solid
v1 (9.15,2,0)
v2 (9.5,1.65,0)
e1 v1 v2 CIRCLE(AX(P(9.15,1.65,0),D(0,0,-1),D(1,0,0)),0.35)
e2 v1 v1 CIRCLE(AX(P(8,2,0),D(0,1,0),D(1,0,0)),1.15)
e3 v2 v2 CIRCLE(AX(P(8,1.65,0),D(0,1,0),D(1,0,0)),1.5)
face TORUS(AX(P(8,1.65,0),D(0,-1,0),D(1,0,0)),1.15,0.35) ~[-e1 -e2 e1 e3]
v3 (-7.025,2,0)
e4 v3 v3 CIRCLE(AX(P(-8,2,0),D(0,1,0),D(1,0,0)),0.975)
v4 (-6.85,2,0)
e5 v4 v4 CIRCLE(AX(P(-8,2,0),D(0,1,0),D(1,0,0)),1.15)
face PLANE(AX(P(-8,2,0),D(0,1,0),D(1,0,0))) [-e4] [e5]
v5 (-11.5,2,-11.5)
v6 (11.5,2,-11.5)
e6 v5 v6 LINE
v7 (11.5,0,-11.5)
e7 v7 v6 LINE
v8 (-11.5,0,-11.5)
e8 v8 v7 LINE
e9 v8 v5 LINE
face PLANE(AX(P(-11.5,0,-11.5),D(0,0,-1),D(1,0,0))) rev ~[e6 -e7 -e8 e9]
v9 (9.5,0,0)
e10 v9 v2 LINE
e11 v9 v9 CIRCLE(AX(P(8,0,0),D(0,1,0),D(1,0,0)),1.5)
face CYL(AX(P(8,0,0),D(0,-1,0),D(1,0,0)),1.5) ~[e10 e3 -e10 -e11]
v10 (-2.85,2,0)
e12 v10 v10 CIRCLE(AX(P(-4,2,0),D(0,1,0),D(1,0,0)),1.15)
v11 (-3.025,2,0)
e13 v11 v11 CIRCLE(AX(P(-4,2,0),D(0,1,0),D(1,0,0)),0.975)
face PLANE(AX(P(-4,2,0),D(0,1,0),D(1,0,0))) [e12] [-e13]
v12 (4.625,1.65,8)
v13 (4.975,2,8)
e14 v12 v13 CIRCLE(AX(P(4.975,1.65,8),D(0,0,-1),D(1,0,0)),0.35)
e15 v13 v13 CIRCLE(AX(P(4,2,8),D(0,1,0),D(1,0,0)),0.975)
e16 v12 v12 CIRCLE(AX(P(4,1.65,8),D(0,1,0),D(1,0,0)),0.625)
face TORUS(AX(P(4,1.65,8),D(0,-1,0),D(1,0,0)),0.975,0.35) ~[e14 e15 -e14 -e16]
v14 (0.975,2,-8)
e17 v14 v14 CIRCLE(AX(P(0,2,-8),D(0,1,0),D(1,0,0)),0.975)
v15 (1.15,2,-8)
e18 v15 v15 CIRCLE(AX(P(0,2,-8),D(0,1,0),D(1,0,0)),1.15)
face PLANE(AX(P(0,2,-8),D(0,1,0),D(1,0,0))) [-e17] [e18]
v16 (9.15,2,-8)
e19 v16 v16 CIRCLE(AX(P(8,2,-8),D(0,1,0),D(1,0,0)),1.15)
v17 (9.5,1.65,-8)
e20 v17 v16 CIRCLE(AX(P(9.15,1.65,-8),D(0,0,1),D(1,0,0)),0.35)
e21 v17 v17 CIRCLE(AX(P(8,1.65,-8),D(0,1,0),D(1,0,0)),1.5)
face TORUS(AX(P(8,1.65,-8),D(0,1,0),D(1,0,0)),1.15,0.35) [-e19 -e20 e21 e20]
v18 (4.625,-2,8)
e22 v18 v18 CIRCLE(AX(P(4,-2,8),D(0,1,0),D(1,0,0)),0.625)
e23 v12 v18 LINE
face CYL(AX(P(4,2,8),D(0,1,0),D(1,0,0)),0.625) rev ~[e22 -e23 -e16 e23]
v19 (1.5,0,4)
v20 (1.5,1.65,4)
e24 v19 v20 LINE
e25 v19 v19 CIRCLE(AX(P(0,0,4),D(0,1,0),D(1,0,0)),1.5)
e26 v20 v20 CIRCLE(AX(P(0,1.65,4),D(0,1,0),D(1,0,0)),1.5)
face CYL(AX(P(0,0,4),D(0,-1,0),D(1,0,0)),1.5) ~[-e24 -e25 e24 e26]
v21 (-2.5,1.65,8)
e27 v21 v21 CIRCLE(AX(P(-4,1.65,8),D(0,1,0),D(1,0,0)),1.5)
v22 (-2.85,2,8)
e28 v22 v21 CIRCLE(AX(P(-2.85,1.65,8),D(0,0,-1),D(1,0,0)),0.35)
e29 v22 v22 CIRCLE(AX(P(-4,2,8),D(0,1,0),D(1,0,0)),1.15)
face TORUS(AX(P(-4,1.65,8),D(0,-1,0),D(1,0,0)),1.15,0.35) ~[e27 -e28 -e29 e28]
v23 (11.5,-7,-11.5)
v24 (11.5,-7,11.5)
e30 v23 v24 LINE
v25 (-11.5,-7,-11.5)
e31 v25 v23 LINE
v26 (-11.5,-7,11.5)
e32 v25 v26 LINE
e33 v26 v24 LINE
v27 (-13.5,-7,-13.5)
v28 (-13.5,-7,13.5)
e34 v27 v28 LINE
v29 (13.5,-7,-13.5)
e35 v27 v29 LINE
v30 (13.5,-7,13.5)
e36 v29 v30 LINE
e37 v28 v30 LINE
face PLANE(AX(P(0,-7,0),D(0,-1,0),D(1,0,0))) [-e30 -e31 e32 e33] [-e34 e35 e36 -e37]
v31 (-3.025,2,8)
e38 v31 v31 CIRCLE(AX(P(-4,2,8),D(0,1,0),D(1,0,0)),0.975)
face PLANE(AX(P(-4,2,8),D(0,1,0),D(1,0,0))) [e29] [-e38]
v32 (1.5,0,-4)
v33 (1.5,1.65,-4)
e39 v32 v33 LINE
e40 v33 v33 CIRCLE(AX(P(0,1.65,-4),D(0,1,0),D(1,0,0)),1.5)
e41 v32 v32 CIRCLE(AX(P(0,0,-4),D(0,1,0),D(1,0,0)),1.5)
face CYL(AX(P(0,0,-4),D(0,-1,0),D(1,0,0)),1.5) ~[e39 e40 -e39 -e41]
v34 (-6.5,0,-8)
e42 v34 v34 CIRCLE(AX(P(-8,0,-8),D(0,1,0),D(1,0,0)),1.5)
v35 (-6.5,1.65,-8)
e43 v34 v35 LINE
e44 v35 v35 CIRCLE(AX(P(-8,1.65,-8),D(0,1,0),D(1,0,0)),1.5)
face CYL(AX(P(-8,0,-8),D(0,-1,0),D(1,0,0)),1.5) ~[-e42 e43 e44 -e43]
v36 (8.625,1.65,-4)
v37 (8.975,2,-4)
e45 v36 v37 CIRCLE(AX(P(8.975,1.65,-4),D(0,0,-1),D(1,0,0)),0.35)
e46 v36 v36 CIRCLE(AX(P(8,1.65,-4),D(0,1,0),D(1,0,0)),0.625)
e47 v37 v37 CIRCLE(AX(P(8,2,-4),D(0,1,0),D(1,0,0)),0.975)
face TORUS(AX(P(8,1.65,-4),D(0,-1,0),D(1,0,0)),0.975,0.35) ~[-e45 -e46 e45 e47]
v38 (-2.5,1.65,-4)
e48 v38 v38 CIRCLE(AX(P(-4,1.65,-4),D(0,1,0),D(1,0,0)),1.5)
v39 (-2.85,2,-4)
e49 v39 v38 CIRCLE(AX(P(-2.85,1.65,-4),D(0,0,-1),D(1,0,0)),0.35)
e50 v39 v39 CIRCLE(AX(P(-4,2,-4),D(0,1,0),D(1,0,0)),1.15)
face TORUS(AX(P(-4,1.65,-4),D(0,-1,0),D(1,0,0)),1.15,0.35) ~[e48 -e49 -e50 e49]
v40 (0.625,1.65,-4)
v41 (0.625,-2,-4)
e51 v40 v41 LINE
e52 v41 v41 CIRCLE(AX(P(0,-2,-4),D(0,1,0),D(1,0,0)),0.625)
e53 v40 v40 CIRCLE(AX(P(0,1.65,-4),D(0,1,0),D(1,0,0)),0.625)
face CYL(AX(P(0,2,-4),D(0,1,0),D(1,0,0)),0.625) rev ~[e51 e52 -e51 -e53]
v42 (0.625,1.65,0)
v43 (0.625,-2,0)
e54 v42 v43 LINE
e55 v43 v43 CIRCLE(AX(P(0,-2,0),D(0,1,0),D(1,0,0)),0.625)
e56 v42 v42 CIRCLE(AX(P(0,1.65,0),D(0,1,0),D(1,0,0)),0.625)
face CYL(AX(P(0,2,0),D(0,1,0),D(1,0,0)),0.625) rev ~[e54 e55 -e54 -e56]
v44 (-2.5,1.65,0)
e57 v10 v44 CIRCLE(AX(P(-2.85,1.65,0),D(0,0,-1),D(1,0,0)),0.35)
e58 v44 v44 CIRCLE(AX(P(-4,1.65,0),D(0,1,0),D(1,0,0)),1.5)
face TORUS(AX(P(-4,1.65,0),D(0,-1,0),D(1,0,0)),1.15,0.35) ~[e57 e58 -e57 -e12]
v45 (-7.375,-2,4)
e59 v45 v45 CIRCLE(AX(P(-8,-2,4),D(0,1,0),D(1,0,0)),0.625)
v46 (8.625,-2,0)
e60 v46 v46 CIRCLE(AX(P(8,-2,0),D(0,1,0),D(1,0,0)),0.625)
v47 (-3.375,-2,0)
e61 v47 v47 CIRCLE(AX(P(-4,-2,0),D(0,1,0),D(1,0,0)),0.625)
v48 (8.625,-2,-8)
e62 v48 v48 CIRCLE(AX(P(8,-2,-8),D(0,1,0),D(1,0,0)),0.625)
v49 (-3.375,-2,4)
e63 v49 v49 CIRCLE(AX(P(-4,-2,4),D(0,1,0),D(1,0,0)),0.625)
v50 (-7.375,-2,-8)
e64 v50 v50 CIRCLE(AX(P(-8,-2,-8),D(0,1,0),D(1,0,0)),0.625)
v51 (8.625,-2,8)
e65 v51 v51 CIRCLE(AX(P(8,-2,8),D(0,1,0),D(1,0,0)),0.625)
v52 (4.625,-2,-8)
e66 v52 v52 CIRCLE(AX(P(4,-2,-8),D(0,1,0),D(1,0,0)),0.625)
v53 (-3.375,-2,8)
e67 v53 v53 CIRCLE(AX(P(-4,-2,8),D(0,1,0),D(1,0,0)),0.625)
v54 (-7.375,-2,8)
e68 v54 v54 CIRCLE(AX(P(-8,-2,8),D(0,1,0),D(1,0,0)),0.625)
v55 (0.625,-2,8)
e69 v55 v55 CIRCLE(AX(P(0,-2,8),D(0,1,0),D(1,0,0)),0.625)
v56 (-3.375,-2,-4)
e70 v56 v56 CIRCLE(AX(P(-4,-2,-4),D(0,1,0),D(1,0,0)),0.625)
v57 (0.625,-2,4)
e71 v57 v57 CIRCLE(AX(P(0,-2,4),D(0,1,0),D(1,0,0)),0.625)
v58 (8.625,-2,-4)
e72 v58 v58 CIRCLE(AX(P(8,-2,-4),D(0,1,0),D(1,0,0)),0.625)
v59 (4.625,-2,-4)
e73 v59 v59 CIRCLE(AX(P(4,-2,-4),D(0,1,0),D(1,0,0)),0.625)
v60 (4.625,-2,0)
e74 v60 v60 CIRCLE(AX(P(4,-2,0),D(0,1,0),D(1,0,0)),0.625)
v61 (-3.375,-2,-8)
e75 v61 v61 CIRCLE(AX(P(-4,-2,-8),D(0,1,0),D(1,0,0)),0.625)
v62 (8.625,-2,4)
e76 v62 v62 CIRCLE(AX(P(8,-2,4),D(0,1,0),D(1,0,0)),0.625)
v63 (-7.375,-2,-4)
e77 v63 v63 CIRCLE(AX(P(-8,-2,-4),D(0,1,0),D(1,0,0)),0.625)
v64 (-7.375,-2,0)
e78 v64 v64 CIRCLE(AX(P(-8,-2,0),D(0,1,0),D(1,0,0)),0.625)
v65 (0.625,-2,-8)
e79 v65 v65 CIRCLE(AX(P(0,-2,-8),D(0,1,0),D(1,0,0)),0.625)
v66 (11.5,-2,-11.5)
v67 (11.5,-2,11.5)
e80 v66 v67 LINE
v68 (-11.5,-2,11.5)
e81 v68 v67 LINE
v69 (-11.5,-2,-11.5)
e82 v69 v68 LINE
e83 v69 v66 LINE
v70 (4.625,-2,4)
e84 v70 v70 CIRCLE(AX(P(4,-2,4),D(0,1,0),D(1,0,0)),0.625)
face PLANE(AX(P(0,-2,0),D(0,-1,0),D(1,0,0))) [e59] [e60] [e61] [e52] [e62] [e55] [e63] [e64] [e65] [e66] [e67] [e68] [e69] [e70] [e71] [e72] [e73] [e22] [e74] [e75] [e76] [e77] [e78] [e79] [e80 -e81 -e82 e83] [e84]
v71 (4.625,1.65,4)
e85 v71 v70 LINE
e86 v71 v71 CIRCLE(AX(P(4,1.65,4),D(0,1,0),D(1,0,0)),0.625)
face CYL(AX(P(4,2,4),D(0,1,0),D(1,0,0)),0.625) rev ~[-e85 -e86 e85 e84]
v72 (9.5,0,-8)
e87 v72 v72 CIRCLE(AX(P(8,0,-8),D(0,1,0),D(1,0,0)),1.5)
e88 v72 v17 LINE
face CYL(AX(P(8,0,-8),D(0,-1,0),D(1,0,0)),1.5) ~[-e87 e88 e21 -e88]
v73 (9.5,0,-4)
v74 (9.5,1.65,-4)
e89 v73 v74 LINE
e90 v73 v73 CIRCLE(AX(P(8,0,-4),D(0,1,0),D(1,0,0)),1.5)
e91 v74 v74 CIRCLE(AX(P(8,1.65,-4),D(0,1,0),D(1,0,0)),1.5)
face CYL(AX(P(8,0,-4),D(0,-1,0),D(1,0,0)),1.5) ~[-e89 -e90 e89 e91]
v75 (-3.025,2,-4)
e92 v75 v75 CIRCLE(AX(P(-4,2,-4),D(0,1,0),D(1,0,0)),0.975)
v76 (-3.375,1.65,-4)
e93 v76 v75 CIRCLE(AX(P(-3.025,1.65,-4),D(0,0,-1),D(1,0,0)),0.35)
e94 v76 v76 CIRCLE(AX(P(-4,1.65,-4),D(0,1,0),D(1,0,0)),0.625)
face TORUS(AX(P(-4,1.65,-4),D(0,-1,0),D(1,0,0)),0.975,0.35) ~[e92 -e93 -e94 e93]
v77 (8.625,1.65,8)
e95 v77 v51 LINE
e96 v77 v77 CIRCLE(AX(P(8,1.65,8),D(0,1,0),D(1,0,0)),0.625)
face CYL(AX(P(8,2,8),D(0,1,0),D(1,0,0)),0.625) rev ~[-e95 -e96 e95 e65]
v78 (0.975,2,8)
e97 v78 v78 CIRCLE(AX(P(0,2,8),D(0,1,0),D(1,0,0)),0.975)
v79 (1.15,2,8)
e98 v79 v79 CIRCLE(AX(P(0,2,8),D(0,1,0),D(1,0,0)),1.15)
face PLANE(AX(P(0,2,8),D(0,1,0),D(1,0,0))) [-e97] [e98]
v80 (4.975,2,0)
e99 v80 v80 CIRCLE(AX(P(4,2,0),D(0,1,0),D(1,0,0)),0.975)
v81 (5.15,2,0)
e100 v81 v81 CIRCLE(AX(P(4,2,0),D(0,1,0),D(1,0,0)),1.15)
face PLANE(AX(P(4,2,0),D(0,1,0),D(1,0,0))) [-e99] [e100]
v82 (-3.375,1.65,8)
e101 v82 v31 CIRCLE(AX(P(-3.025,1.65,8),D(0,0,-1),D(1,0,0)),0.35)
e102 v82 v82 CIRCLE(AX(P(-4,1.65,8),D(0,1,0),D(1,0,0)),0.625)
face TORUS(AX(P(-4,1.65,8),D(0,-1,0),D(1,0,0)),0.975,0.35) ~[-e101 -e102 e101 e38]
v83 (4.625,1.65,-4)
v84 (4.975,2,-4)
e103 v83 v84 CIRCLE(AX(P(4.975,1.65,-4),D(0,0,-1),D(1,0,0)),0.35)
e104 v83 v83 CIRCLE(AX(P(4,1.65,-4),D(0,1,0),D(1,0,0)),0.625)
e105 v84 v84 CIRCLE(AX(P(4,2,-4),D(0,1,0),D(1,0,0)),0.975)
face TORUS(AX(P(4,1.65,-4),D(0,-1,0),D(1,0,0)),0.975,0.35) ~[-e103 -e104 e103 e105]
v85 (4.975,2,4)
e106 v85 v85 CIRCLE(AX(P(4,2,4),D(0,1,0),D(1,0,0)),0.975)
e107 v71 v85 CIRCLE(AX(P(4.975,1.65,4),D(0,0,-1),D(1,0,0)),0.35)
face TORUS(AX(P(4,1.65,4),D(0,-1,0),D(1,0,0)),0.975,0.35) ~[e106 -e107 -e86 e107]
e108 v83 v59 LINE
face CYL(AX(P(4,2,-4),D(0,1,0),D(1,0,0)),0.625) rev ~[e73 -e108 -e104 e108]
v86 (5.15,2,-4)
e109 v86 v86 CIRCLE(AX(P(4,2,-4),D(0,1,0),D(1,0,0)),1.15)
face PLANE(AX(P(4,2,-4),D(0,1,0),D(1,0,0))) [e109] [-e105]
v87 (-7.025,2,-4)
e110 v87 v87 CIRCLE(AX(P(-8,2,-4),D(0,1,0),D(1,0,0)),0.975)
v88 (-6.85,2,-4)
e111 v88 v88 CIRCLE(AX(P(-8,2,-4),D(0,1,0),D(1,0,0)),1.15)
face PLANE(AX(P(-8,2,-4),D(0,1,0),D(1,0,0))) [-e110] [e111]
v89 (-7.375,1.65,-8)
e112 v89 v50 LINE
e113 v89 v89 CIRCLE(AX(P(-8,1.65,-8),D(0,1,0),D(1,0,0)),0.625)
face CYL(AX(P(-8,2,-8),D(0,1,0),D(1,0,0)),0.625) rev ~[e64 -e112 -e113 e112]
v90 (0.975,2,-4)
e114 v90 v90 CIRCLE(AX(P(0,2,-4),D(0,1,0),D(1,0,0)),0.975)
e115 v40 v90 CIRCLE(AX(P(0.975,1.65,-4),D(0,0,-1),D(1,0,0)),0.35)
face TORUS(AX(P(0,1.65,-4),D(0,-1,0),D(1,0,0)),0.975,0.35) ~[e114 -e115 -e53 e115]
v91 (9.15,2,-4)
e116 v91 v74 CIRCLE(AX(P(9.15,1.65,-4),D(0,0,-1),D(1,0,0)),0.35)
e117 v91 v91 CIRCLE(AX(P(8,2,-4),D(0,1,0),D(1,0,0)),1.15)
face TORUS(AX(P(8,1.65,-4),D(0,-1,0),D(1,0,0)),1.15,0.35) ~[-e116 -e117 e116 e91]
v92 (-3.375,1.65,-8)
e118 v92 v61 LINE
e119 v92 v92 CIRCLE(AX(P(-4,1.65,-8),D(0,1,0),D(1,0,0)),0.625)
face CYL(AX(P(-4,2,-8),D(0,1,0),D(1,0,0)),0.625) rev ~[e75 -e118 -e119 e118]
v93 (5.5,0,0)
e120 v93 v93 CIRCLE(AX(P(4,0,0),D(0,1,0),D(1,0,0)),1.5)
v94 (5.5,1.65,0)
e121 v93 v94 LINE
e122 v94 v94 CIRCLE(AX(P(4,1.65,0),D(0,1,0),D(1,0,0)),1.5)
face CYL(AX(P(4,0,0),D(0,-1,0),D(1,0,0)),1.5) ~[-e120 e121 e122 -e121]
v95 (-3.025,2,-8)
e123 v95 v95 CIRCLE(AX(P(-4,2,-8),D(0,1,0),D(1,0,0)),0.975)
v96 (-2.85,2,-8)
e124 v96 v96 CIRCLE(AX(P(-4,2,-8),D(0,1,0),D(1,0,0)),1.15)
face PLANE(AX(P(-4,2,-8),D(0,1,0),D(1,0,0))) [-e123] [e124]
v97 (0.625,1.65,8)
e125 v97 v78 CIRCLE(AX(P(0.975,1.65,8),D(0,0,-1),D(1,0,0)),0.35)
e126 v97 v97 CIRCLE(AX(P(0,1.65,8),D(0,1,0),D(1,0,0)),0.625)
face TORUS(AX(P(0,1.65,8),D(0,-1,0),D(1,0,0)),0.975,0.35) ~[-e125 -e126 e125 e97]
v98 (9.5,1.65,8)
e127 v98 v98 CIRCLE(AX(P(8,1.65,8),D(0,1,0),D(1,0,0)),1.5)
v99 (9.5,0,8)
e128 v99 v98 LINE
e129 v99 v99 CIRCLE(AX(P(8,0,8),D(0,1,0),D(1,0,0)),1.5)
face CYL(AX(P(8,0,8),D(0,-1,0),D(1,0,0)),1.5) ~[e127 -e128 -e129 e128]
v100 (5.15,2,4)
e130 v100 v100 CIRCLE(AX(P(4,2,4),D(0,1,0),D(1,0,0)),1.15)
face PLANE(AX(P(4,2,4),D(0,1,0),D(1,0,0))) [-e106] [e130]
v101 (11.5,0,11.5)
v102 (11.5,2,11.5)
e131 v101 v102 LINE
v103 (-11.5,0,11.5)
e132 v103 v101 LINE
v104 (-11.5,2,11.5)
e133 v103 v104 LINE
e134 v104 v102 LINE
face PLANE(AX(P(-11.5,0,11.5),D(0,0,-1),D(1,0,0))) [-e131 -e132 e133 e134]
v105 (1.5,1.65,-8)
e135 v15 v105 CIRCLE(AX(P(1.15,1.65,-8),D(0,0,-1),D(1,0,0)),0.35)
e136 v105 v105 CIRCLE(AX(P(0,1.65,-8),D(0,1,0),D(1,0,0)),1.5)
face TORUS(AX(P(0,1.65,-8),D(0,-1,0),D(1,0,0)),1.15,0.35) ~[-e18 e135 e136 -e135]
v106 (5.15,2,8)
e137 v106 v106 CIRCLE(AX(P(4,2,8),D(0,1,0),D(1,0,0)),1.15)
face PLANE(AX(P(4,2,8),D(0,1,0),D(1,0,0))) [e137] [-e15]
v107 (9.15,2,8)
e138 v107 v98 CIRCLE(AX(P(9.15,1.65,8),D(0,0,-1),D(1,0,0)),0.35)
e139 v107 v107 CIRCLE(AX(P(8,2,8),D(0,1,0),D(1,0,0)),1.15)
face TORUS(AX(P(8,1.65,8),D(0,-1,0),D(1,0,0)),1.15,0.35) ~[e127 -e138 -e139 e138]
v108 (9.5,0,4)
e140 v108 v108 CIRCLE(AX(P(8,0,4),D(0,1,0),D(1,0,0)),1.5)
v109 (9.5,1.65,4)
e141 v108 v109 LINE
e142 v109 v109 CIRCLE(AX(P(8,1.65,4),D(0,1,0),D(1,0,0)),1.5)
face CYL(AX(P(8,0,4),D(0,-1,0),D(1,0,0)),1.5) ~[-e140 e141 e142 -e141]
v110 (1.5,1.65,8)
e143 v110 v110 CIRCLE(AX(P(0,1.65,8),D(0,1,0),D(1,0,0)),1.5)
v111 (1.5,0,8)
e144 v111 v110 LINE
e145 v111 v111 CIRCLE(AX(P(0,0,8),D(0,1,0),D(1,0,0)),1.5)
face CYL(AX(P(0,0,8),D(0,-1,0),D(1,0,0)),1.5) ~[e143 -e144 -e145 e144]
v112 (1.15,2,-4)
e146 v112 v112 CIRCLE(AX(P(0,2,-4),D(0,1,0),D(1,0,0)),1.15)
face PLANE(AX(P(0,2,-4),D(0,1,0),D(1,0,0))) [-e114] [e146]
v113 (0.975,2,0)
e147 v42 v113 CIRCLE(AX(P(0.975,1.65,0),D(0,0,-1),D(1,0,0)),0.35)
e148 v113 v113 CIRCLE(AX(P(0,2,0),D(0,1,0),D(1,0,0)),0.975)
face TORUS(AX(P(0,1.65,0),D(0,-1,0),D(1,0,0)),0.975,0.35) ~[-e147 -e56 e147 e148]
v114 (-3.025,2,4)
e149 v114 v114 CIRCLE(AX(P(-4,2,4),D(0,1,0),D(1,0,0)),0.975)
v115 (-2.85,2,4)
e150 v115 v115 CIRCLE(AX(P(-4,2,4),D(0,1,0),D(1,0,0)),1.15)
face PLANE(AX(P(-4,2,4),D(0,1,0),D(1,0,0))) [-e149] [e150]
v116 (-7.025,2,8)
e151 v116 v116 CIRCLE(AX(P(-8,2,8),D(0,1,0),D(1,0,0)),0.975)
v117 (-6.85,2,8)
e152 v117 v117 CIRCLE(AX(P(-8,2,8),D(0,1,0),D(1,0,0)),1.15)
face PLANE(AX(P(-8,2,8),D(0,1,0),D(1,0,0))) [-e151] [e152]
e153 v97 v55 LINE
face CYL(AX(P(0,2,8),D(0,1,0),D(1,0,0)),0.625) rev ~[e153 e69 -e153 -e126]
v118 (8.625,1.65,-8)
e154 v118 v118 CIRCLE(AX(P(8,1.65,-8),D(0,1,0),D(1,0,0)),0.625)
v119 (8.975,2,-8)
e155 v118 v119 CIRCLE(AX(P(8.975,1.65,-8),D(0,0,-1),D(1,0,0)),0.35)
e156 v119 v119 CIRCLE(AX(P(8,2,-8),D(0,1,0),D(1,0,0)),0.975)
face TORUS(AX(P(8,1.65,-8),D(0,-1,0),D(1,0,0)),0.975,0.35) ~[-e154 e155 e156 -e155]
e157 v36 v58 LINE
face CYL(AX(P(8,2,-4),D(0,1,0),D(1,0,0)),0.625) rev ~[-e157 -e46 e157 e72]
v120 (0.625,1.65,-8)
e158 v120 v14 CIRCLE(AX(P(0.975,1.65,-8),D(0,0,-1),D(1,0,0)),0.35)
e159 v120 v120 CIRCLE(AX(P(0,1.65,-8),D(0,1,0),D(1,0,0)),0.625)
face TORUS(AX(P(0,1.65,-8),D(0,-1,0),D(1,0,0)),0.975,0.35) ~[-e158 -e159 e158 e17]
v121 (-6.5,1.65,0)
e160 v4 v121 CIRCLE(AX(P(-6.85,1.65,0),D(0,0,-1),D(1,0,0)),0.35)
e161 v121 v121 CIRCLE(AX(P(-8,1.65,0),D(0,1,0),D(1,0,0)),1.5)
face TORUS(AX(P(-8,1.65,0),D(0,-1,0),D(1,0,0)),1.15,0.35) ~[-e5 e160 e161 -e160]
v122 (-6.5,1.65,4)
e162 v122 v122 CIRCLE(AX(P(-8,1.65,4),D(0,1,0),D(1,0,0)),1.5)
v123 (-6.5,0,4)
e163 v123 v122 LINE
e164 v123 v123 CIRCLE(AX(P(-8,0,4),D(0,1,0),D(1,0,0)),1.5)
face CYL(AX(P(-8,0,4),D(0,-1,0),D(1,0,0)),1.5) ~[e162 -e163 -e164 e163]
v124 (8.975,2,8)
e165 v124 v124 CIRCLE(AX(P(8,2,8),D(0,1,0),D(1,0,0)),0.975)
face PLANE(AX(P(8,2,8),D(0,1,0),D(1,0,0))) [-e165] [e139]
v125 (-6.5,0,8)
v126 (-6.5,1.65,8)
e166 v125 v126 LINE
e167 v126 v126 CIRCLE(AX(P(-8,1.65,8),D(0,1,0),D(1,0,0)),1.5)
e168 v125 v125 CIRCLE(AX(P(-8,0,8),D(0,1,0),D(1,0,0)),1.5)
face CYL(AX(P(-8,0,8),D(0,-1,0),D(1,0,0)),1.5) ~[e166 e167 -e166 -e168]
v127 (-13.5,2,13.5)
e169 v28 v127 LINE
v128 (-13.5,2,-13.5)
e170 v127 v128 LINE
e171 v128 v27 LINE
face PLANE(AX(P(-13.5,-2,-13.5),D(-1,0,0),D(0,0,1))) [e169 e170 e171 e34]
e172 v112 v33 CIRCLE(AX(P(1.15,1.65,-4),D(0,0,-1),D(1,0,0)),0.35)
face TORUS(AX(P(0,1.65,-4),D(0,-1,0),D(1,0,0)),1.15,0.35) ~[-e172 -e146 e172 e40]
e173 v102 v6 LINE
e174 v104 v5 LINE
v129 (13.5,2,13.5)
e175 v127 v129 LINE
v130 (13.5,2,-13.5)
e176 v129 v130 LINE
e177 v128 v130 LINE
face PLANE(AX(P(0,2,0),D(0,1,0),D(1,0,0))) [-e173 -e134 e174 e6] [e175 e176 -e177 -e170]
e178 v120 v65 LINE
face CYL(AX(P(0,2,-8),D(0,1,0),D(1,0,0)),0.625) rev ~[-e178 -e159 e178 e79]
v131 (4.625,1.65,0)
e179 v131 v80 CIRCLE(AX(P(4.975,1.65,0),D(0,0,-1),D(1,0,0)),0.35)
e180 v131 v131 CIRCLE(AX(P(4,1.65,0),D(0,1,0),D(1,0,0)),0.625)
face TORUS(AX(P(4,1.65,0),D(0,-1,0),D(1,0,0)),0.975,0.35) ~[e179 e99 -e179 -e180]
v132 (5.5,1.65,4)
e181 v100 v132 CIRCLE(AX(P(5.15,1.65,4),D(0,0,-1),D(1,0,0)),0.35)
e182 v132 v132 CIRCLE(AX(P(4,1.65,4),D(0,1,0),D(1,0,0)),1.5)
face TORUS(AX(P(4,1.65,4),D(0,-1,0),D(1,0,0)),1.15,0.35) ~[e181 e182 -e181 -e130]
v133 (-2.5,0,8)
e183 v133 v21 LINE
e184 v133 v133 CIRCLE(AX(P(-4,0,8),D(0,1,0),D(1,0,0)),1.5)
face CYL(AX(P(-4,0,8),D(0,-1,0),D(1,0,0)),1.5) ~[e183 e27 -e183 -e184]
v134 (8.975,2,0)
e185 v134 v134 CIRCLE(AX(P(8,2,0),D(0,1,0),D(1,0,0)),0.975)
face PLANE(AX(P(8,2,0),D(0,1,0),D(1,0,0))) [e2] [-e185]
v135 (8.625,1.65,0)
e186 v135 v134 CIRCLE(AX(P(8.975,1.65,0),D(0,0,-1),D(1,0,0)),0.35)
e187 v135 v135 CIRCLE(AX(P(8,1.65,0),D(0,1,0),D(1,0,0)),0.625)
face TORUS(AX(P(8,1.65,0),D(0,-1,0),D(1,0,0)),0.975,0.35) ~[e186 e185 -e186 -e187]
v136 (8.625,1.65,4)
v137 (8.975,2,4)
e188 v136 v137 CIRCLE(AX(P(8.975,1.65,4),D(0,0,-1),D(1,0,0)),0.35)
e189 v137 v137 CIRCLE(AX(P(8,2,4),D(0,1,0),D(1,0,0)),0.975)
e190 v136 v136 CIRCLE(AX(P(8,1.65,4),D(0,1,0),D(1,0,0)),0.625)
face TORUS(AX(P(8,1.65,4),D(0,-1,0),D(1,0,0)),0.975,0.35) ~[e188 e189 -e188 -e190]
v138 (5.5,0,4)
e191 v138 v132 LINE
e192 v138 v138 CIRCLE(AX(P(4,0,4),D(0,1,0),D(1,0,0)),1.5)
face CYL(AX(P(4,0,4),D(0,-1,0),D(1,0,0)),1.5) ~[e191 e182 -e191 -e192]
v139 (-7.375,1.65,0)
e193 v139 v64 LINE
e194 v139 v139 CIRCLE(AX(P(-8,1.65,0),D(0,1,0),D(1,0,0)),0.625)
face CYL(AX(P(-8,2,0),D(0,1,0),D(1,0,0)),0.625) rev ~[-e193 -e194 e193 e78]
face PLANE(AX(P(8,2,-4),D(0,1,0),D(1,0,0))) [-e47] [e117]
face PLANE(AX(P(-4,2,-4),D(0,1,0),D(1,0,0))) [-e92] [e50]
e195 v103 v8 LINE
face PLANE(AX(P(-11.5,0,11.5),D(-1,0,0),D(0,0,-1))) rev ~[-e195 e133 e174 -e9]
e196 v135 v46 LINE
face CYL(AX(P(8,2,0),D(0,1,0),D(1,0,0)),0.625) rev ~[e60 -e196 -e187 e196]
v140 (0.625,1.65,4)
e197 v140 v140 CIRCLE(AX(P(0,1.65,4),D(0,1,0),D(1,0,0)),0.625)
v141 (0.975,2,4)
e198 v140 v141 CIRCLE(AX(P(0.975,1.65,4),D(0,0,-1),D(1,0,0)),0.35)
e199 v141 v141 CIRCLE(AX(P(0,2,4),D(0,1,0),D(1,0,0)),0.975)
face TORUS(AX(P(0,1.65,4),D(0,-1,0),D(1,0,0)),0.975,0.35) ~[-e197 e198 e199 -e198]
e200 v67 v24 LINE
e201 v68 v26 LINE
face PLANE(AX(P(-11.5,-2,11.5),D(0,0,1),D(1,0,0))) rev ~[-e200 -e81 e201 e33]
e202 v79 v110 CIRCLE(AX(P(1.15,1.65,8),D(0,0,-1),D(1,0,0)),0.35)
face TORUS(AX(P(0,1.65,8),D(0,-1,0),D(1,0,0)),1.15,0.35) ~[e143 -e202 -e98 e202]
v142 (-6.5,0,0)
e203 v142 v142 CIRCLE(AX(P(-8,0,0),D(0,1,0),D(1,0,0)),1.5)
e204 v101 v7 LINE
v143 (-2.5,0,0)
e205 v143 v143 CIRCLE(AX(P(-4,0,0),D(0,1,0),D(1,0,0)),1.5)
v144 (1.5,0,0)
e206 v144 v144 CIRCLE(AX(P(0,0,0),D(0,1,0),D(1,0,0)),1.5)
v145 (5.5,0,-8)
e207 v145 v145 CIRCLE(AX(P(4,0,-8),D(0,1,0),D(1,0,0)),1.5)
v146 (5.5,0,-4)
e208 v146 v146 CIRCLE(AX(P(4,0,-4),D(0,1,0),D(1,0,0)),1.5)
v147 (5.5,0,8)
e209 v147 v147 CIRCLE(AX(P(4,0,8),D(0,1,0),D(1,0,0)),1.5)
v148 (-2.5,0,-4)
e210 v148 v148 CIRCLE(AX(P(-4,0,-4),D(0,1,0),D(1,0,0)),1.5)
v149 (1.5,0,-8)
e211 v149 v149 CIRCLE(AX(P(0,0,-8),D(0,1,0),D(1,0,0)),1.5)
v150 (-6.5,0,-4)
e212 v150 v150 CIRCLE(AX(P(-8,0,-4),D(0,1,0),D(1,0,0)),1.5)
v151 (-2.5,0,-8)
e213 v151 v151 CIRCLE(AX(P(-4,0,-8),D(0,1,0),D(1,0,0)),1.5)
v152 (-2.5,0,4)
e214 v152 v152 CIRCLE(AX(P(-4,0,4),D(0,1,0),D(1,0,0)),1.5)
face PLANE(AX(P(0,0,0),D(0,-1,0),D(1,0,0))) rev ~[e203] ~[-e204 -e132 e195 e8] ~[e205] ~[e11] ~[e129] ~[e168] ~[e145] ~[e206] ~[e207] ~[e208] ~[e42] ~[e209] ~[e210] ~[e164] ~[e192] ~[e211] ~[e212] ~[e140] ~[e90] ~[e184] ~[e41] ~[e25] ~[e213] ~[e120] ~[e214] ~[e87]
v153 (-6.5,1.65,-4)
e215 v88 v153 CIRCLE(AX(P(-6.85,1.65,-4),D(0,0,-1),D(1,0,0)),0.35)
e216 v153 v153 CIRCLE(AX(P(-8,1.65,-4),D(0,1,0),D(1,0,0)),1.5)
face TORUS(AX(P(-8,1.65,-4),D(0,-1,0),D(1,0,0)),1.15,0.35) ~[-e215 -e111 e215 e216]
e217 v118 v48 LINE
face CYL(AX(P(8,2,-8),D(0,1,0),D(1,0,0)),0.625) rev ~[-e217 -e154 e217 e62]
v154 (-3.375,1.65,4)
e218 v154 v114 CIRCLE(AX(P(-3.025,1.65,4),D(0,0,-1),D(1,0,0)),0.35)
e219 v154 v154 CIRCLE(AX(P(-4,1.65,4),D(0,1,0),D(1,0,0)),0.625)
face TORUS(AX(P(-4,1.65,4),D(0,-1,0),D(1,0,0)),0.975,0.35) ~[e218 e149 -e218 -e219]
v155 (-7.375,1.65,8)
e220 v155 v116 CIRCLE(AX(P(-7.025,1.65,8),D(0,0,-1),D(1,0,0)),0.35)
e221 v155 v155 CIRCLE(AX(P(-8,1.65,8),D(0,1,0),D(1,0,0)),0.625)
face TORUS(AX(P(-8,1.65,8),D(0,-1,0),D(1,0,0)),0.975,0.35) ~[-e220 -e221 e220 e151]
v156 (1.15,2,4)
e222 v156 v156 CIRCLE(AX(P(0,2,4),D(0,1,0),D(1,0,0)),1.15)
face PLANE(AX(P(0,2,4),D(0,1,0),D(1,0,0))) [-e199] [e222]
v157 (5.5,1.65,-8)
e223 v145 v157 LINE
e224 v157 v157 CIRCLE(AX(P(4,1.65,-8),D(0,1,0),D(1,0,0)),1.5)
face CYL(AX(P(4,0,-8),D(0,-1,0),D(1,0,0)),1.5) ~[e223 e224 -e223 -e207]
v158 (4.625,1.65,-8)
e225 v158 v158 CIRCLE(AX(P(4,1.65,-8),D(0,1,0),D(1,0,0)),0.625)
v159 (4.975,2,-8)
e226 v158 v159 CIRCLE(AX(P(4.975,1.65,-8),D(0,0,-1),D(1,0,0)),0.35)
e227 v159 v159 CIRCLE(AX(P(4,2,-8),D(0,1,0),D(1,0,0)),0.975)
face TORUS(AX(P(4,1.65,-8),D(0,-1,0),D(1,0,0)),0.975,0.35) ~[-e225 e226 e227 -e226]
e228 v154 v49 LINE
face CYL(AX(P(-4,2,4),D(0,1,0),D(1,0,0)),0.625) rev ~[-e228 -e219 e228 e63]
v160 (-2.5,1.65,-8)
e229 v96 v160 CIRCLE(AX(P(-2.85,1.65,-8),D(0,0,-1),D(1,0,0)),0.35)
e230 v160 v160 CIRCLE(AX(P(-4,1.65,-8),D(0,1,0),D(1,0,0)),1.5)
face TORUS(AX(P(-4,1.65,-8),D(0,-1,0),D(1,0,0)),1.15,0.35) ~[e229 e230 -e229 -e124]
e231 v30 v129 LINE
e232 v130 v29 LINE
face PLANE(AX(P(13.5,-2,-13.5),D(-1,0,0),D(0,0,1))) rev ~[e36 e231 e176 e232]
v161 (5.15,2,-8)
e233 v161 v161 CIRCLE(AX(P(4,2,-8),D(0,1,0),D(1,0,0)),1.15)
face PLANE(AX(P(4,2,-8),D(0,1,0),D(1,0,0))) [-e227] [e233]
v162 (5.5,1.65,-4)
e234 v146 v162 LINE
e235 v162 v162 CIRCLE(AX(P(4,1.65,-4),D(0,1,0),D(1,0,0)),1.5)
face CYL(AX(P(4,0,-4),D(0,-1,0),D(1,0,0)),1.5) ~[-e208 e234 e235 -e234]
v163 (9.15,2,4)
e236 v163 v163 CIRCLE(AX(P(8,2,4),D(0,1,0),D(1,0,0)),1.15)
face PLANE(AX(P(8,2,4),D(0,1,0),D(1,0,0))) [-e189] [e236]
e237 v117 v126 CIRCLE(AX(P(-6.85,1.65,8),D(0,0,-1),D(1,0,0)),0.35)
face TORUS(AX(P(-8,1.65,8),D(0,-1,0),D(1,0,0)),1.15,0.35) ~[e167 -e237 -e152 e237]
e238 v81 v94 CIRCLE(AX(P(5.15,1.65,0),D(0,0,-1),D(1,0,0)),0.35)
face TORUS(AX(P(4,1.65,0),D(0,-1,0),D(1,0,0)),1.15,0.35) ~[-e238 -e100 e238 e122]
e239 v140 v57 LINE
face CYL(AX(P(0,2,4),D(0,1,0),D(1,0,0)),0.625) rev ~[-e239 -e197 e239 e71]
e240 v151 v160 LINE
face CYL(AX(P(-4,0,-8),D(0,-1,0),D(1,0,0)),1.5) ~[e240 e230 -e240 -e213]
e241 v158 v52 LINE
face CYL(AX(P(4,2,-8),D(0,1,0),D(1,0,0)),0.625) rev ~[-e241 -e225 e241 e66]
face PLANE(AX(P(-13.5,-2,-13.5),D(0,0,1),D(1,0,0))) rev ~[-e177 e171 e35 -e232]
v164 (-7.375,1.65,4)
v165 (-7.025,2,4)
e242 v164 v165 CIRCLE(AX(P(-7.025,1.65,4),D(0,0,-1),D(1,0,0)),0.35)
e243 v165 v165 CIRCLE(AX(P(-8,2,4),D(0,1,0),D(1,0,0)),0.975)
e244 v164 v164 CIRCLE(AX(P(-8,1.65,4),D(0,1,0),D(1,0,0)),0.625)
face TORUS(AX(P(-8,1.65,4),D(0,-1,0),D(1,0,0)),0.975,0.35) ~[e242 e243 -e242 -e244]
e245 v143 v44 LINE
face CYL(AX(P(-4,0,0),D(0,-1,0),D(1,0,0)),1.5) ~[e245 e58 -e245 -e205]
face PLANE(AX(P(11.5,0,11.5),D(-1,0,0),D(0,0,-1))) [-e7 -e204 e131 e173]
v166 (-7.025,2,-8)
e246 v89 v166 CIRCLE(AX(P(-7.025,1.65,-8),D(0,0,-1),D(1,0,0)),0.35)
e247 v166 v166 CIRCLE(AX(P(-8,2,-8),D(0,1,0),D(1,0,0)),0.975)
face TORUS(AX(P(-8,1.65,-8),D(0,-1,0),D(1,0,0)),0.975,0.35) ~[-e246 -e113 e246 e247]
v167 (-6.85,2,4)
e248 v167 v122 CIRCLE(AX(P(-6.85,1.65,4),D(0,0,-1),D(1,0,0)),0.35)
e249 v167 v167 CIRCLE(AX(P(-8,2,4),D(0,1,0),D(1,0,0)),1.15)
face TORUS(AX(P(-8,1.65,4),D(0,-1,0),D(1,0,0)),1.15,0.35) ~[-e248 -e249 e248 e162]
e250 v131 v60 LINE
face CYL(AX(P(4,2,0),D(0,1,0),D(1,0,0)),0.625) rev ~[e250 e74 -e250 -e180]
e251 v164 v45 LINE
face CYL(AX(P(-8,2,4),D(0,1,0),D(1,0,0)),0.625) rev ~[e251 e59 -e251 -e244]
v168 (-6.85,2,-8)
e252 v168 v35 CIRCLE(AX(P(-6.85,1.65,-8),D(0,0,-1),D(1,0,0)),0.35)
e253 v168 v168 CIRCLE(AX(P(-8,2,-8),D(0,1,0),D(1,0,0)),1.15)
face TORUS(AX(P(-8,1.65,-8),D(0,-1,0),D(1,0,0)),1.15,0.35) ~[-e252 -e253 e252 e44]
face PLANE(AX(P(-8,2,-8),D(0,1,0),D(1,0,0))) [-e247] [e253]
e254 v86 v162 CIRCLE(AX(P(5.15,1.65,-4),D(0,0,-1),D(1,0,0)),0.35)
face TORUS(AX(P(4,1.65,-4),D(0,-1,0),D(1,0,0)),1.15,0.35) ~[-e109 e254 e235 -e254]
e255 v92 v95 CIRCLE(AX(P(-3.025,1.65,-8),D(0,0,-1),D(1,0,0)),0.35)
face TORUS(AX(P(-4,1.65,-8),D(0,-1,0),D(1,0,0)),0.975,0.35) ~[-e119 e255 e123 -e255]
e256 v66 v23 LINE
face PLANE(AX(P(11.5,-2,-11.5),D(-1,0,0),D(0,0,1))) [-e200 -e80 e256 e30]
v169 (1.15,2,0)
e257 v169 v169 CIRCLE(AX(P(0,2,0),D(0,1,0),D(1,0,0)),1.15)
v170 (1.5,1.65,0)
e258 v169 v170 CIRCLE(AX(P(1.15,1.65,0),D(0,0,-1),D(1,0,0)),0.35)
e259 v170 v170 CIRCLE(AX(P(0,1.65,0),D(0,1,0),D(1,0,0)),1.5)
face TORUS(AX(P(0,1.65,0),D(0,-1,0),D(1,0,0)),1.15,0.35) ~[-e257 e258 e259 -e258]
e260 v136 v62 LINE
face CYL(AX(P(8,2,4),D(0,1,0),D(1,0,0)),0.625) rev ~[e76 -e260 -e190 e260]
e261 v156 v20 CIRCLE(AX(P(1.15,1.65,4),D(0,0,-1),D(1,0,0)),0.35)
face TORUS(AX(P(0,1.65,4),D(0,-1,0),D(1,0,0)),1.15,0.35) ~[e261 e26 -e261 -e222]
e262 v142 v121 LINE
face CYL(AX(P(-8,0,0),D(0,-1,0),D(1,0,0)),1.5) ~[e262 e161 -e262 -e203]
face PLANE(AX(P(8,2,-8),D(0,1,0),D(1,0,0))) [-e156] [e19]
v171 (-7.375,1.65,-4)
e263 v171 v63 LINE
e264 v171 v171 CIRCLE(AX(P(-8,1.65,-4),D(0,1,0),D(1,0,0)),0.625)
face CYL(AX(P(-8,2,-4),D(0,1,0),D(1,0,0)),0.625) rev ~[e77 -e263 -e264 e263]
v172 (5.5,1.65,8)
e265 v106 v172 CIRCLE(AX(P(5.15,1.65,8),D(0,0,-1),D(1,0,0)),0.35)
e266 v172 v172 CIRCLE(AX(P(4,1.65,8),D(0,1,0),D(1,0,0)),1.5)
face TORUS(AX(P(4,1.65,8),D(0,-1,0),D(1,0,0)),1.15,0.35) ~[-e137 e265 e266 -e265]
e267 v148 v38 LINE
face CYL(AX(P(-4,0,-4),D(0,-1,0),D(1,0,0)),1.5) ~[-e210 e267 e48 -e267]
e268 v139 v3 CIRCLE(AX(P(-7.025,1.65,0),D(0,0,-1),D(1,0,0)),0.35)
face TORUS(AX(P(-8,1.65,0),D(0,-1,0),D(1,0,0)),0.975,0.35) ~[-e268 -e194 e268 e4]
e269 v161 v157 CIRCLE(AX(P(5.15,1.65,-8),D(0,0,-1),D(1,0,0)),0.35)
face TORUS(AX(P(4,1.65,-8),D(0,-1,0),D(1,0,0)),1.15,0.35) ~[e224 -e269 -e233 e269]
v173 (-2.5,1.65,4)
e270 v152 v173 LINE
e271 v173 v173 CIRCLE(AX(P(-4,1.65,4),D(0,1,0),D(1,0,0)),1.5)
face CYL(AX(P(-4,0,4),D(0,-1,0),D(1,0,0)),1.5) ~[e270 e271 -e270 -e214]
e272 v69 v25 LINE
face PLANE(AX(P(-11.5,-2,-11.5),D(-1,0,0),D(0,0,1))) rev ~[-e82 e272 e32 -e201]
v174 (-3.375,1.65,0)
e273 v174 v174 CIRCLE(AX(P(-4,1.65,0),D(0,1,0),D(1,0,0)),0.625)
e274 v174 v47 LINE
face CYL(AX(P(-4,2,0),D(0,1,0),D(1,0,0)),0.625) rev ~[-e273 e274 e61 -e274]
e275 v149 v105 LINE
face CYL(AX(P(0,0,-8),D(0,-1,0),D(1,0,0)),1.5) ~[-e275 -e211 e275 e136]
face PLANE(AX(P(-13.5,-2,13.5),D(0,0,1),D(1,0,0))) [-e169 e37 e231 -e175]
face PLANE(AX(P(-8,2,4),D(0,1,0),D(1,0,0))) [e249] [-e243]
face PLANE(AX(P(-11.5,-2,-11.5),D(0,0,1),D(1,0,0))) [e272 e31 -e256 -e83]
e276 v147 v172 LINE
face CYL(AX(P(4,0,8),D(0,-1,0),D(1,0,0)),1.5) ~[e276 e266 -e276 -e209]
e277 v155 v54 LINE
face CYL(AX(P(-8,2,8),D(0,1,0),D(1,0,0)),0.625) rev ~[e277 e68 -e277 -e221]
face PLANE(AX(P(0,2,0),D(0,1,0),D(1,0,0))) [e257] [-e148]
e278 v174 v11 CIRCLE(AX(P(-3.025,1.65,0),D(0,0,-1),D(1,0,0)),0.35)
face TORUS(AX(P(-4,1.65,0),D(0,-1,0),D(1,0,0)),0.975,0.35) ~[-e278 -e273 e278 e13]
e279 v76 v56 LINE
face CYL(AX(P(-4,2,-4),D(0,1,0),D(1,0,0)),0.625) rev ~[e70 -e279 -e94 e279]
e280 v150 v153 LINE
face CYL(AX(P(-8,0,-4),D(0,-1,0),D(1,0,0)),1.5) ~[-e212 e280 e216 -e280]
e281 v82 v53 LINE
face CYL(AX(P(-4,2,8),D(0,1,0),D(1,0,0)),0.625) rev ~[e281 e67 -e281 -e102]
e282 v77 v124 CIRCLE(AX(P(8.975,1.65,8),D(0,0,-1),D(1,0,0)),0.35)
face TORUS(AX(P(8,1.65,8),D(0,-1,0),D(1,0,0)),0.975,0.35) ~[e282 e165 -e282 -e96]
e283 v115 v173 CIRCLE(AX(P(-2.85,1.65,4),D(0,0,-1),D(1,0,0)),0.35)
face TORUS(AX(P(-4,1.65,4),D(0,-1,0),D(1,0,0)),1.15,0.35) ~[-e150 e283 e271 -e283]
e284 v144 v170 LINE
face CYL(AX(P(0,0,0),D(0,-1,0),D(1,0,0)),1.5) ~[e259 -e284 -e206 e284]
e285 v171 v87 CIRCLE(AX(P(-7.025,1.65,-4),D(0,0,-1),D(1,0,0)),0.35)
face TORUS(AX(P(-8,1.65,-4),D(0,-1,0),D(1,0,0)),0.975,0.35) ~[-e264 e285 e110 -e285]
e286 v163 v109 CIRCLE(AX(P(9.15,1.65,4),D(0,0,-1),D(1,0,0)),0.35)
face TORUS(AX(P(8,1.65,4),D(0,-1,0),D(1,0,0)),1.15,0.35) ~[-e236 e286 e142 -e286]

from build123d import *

# Parameters (mm, degrees)
SKETCH1_W              = 27
SKETCH1_H              = 27
SKETCH1_W_2            = 23
SKETCH1_H_2            = 23
BOSS_EXTRUDE1_DEPTH    = 2
SKETCH2_W              = 27
SKETCH2_H              = 27
BOSS_EXTRUDE2_DEPTH    = 2
SKETCH3_W              = 27
SKETCH3_H              = 27
SKETCH3_W_2            = 23
SKETCH3_H_2            = 23
BOSS_EXTRUDE3_DEPTH    = 5
SKETCH6_R              = 1.5
BOSS_EXTRUDE5_DEPTH    = 2
SKETCH7_R              = 0.625
CUT_EXTRUDE2_DEPTH     = 4
FILLET3_R              = 0.35
LPATTERN1_COUNT        = 5
LPATTERN1_PITCH        = 4
LPATTERN1_COUNT_DIR2   = 5
LPATTERN1_PITCH_DIR2   = 4
FILLET3_OF_LPATTERN1_R = 0.35


with BuildPart() as part:
    # Sketch1 → Boss-Extrude1 (new body)
    with BuildSketch(Plane(origin=(0, 0, 0), x_dir=(1, 0, 0), z_dir=(0, 1, 0))):
        Rectangle(SKETCH1_W, SKETCH1_H)
        Rectangle(SKETCH1_W_2, SKETCH1_H_2, mode=Mode.SUBTRACT)
    extrude(amount=BOSS_EXTRUDE1_DEPTH)

    # Sketch2 → Boss-Extrude2 (add)
    with BuildSketch(Plane.XZ):
        Rectangle(SKETCH2_W, SKETCH2_H)
    extrude(amount=BOSS_EXTRUDE2_DEPTH)

    # Sketch3 → Boss-Extrude3 (add)
    with BuildSketch(Plane.XZ.offset(2)):
        Rectangle(SKETCH3_W, SKETCH3_H)
        Rectangle(SKETCH3_W_2, SKETCH3_H_2, mode=Mode.SUBTRACT)
    extrude(amount=BOSS_EXTRUDE3_DEPTH)

    # Sketch6 → Boss-Extrude5 (add)
    with BuildSketch(Plane(origin=(0, 0, 0), x_dir=(1, 0, 0), z_dir=(0, 1, 0))):
        with Locations((8, 8)):
            Circle(SKETCH6_R)
    boss_extrude5 = extrude(amount=BOSS_EXTRUDE5_DEPTH)

    # Sketch7 → Cut-Extrude2 (cut)
    with BuildSketch(Plane(origin=(0, 2, 0), x_dir=(1, 0, 0), z_dir=(0, 1, 0))):
        with Locations((8, 8)):
            Circle(SKETCH7_R)
    cut_extrude2 = extrude(amount=-CUT_EXTRUDE2_DEPTH, mode=Mode.SUBTRACT)

    # Fillet3
    fillet3_edges = [part.edges().sort_by_distance(p)[0] for p in [
        (6.5, 2, -8),
        (7.375, 2, -8),
    ]]
    fillet(fillet3_edges, radius=FILLET3_R)

    # LPattern1: Boss-Extrude5, Cut-Extrude2 5 × 5
    with Locations(*[(-j * LPATTERN1_PITCH_DIR2, 0, i * LPATTERN1_PITCH) for i in range(LPATTERN1_COUNT) for j in range(LPATTERN1_COUNT_DIR2) if (i, j) != (0, 0)]):
        add(boss_extrude5)
        add(cut_extrude2, mode=Mode.SUBTRACT)

    # Fillet3 of LPattern1
    fillet3_of_lpattern1_edges = [part.edges().sort_by_distance(p)[0] for p in [
        (2.5, 2, -8),
        (3.375, 2, -8),
        (-1.5, 2, -8),
        (-0.625, 2, -8),
        (-5.5, 2, -8),
        (-4.625, 2, -8),
        (-9.5, 2, -8),
        (-8.625, 2, -8),
        (6.5, 2, -4),
        (7.375, 2, -4),
        (2.5, 2, -4),
        (3.375, 2, -4),
        (-1.5, 2, -4),
        (-0.625, 2, -4),
        (-5.5, 2, -4),
        (-4.625, 2, -4),
        (-9.5, 2, -4),
        (-8.625, 2, -4),
        (6.5, 2, 0),
        (7.375, 2, 0),
        (2.5, 2, 0),
        (3.375, 2, 0),
        (-1.5, 2, 0),
        (-0.625, 2, 0),
        (-5.5, 2, 0),
        (-4.625, 2, 0),
        (-9.5, 2, 0),
        (-8.625, 2, 0),
        (6.5, 2, 4),
        (7.375, 2, 4),
        (2.5, 2, 4),
        (3.375, 2, 4),
        (-1.5, 2, 4),
        (-0.625, 2, 4),
        (-5.5, 2, 4),
        (-4.625, 2, 4),
        (-9.5, 2, 4),
        (-8.625, 2, 4),
        (6.5, 2, 8),
        (7.375, 2, 8),
        (2.5, 2, 8),
        (3.375, 2, 8),
        (-1.5, 2, 8),
        (-0.625, 2, 8),
        (-5.5, 2, 8),
        (-4.625, 2, 8),
        (-9.5, 2, 8),
        (-8.625, 2, 8),
    ]]
    fillet(fillet3_of_lpattern1_edges, radius=FILLET3_OF_LPATTERN1_R)


solid = part.part
